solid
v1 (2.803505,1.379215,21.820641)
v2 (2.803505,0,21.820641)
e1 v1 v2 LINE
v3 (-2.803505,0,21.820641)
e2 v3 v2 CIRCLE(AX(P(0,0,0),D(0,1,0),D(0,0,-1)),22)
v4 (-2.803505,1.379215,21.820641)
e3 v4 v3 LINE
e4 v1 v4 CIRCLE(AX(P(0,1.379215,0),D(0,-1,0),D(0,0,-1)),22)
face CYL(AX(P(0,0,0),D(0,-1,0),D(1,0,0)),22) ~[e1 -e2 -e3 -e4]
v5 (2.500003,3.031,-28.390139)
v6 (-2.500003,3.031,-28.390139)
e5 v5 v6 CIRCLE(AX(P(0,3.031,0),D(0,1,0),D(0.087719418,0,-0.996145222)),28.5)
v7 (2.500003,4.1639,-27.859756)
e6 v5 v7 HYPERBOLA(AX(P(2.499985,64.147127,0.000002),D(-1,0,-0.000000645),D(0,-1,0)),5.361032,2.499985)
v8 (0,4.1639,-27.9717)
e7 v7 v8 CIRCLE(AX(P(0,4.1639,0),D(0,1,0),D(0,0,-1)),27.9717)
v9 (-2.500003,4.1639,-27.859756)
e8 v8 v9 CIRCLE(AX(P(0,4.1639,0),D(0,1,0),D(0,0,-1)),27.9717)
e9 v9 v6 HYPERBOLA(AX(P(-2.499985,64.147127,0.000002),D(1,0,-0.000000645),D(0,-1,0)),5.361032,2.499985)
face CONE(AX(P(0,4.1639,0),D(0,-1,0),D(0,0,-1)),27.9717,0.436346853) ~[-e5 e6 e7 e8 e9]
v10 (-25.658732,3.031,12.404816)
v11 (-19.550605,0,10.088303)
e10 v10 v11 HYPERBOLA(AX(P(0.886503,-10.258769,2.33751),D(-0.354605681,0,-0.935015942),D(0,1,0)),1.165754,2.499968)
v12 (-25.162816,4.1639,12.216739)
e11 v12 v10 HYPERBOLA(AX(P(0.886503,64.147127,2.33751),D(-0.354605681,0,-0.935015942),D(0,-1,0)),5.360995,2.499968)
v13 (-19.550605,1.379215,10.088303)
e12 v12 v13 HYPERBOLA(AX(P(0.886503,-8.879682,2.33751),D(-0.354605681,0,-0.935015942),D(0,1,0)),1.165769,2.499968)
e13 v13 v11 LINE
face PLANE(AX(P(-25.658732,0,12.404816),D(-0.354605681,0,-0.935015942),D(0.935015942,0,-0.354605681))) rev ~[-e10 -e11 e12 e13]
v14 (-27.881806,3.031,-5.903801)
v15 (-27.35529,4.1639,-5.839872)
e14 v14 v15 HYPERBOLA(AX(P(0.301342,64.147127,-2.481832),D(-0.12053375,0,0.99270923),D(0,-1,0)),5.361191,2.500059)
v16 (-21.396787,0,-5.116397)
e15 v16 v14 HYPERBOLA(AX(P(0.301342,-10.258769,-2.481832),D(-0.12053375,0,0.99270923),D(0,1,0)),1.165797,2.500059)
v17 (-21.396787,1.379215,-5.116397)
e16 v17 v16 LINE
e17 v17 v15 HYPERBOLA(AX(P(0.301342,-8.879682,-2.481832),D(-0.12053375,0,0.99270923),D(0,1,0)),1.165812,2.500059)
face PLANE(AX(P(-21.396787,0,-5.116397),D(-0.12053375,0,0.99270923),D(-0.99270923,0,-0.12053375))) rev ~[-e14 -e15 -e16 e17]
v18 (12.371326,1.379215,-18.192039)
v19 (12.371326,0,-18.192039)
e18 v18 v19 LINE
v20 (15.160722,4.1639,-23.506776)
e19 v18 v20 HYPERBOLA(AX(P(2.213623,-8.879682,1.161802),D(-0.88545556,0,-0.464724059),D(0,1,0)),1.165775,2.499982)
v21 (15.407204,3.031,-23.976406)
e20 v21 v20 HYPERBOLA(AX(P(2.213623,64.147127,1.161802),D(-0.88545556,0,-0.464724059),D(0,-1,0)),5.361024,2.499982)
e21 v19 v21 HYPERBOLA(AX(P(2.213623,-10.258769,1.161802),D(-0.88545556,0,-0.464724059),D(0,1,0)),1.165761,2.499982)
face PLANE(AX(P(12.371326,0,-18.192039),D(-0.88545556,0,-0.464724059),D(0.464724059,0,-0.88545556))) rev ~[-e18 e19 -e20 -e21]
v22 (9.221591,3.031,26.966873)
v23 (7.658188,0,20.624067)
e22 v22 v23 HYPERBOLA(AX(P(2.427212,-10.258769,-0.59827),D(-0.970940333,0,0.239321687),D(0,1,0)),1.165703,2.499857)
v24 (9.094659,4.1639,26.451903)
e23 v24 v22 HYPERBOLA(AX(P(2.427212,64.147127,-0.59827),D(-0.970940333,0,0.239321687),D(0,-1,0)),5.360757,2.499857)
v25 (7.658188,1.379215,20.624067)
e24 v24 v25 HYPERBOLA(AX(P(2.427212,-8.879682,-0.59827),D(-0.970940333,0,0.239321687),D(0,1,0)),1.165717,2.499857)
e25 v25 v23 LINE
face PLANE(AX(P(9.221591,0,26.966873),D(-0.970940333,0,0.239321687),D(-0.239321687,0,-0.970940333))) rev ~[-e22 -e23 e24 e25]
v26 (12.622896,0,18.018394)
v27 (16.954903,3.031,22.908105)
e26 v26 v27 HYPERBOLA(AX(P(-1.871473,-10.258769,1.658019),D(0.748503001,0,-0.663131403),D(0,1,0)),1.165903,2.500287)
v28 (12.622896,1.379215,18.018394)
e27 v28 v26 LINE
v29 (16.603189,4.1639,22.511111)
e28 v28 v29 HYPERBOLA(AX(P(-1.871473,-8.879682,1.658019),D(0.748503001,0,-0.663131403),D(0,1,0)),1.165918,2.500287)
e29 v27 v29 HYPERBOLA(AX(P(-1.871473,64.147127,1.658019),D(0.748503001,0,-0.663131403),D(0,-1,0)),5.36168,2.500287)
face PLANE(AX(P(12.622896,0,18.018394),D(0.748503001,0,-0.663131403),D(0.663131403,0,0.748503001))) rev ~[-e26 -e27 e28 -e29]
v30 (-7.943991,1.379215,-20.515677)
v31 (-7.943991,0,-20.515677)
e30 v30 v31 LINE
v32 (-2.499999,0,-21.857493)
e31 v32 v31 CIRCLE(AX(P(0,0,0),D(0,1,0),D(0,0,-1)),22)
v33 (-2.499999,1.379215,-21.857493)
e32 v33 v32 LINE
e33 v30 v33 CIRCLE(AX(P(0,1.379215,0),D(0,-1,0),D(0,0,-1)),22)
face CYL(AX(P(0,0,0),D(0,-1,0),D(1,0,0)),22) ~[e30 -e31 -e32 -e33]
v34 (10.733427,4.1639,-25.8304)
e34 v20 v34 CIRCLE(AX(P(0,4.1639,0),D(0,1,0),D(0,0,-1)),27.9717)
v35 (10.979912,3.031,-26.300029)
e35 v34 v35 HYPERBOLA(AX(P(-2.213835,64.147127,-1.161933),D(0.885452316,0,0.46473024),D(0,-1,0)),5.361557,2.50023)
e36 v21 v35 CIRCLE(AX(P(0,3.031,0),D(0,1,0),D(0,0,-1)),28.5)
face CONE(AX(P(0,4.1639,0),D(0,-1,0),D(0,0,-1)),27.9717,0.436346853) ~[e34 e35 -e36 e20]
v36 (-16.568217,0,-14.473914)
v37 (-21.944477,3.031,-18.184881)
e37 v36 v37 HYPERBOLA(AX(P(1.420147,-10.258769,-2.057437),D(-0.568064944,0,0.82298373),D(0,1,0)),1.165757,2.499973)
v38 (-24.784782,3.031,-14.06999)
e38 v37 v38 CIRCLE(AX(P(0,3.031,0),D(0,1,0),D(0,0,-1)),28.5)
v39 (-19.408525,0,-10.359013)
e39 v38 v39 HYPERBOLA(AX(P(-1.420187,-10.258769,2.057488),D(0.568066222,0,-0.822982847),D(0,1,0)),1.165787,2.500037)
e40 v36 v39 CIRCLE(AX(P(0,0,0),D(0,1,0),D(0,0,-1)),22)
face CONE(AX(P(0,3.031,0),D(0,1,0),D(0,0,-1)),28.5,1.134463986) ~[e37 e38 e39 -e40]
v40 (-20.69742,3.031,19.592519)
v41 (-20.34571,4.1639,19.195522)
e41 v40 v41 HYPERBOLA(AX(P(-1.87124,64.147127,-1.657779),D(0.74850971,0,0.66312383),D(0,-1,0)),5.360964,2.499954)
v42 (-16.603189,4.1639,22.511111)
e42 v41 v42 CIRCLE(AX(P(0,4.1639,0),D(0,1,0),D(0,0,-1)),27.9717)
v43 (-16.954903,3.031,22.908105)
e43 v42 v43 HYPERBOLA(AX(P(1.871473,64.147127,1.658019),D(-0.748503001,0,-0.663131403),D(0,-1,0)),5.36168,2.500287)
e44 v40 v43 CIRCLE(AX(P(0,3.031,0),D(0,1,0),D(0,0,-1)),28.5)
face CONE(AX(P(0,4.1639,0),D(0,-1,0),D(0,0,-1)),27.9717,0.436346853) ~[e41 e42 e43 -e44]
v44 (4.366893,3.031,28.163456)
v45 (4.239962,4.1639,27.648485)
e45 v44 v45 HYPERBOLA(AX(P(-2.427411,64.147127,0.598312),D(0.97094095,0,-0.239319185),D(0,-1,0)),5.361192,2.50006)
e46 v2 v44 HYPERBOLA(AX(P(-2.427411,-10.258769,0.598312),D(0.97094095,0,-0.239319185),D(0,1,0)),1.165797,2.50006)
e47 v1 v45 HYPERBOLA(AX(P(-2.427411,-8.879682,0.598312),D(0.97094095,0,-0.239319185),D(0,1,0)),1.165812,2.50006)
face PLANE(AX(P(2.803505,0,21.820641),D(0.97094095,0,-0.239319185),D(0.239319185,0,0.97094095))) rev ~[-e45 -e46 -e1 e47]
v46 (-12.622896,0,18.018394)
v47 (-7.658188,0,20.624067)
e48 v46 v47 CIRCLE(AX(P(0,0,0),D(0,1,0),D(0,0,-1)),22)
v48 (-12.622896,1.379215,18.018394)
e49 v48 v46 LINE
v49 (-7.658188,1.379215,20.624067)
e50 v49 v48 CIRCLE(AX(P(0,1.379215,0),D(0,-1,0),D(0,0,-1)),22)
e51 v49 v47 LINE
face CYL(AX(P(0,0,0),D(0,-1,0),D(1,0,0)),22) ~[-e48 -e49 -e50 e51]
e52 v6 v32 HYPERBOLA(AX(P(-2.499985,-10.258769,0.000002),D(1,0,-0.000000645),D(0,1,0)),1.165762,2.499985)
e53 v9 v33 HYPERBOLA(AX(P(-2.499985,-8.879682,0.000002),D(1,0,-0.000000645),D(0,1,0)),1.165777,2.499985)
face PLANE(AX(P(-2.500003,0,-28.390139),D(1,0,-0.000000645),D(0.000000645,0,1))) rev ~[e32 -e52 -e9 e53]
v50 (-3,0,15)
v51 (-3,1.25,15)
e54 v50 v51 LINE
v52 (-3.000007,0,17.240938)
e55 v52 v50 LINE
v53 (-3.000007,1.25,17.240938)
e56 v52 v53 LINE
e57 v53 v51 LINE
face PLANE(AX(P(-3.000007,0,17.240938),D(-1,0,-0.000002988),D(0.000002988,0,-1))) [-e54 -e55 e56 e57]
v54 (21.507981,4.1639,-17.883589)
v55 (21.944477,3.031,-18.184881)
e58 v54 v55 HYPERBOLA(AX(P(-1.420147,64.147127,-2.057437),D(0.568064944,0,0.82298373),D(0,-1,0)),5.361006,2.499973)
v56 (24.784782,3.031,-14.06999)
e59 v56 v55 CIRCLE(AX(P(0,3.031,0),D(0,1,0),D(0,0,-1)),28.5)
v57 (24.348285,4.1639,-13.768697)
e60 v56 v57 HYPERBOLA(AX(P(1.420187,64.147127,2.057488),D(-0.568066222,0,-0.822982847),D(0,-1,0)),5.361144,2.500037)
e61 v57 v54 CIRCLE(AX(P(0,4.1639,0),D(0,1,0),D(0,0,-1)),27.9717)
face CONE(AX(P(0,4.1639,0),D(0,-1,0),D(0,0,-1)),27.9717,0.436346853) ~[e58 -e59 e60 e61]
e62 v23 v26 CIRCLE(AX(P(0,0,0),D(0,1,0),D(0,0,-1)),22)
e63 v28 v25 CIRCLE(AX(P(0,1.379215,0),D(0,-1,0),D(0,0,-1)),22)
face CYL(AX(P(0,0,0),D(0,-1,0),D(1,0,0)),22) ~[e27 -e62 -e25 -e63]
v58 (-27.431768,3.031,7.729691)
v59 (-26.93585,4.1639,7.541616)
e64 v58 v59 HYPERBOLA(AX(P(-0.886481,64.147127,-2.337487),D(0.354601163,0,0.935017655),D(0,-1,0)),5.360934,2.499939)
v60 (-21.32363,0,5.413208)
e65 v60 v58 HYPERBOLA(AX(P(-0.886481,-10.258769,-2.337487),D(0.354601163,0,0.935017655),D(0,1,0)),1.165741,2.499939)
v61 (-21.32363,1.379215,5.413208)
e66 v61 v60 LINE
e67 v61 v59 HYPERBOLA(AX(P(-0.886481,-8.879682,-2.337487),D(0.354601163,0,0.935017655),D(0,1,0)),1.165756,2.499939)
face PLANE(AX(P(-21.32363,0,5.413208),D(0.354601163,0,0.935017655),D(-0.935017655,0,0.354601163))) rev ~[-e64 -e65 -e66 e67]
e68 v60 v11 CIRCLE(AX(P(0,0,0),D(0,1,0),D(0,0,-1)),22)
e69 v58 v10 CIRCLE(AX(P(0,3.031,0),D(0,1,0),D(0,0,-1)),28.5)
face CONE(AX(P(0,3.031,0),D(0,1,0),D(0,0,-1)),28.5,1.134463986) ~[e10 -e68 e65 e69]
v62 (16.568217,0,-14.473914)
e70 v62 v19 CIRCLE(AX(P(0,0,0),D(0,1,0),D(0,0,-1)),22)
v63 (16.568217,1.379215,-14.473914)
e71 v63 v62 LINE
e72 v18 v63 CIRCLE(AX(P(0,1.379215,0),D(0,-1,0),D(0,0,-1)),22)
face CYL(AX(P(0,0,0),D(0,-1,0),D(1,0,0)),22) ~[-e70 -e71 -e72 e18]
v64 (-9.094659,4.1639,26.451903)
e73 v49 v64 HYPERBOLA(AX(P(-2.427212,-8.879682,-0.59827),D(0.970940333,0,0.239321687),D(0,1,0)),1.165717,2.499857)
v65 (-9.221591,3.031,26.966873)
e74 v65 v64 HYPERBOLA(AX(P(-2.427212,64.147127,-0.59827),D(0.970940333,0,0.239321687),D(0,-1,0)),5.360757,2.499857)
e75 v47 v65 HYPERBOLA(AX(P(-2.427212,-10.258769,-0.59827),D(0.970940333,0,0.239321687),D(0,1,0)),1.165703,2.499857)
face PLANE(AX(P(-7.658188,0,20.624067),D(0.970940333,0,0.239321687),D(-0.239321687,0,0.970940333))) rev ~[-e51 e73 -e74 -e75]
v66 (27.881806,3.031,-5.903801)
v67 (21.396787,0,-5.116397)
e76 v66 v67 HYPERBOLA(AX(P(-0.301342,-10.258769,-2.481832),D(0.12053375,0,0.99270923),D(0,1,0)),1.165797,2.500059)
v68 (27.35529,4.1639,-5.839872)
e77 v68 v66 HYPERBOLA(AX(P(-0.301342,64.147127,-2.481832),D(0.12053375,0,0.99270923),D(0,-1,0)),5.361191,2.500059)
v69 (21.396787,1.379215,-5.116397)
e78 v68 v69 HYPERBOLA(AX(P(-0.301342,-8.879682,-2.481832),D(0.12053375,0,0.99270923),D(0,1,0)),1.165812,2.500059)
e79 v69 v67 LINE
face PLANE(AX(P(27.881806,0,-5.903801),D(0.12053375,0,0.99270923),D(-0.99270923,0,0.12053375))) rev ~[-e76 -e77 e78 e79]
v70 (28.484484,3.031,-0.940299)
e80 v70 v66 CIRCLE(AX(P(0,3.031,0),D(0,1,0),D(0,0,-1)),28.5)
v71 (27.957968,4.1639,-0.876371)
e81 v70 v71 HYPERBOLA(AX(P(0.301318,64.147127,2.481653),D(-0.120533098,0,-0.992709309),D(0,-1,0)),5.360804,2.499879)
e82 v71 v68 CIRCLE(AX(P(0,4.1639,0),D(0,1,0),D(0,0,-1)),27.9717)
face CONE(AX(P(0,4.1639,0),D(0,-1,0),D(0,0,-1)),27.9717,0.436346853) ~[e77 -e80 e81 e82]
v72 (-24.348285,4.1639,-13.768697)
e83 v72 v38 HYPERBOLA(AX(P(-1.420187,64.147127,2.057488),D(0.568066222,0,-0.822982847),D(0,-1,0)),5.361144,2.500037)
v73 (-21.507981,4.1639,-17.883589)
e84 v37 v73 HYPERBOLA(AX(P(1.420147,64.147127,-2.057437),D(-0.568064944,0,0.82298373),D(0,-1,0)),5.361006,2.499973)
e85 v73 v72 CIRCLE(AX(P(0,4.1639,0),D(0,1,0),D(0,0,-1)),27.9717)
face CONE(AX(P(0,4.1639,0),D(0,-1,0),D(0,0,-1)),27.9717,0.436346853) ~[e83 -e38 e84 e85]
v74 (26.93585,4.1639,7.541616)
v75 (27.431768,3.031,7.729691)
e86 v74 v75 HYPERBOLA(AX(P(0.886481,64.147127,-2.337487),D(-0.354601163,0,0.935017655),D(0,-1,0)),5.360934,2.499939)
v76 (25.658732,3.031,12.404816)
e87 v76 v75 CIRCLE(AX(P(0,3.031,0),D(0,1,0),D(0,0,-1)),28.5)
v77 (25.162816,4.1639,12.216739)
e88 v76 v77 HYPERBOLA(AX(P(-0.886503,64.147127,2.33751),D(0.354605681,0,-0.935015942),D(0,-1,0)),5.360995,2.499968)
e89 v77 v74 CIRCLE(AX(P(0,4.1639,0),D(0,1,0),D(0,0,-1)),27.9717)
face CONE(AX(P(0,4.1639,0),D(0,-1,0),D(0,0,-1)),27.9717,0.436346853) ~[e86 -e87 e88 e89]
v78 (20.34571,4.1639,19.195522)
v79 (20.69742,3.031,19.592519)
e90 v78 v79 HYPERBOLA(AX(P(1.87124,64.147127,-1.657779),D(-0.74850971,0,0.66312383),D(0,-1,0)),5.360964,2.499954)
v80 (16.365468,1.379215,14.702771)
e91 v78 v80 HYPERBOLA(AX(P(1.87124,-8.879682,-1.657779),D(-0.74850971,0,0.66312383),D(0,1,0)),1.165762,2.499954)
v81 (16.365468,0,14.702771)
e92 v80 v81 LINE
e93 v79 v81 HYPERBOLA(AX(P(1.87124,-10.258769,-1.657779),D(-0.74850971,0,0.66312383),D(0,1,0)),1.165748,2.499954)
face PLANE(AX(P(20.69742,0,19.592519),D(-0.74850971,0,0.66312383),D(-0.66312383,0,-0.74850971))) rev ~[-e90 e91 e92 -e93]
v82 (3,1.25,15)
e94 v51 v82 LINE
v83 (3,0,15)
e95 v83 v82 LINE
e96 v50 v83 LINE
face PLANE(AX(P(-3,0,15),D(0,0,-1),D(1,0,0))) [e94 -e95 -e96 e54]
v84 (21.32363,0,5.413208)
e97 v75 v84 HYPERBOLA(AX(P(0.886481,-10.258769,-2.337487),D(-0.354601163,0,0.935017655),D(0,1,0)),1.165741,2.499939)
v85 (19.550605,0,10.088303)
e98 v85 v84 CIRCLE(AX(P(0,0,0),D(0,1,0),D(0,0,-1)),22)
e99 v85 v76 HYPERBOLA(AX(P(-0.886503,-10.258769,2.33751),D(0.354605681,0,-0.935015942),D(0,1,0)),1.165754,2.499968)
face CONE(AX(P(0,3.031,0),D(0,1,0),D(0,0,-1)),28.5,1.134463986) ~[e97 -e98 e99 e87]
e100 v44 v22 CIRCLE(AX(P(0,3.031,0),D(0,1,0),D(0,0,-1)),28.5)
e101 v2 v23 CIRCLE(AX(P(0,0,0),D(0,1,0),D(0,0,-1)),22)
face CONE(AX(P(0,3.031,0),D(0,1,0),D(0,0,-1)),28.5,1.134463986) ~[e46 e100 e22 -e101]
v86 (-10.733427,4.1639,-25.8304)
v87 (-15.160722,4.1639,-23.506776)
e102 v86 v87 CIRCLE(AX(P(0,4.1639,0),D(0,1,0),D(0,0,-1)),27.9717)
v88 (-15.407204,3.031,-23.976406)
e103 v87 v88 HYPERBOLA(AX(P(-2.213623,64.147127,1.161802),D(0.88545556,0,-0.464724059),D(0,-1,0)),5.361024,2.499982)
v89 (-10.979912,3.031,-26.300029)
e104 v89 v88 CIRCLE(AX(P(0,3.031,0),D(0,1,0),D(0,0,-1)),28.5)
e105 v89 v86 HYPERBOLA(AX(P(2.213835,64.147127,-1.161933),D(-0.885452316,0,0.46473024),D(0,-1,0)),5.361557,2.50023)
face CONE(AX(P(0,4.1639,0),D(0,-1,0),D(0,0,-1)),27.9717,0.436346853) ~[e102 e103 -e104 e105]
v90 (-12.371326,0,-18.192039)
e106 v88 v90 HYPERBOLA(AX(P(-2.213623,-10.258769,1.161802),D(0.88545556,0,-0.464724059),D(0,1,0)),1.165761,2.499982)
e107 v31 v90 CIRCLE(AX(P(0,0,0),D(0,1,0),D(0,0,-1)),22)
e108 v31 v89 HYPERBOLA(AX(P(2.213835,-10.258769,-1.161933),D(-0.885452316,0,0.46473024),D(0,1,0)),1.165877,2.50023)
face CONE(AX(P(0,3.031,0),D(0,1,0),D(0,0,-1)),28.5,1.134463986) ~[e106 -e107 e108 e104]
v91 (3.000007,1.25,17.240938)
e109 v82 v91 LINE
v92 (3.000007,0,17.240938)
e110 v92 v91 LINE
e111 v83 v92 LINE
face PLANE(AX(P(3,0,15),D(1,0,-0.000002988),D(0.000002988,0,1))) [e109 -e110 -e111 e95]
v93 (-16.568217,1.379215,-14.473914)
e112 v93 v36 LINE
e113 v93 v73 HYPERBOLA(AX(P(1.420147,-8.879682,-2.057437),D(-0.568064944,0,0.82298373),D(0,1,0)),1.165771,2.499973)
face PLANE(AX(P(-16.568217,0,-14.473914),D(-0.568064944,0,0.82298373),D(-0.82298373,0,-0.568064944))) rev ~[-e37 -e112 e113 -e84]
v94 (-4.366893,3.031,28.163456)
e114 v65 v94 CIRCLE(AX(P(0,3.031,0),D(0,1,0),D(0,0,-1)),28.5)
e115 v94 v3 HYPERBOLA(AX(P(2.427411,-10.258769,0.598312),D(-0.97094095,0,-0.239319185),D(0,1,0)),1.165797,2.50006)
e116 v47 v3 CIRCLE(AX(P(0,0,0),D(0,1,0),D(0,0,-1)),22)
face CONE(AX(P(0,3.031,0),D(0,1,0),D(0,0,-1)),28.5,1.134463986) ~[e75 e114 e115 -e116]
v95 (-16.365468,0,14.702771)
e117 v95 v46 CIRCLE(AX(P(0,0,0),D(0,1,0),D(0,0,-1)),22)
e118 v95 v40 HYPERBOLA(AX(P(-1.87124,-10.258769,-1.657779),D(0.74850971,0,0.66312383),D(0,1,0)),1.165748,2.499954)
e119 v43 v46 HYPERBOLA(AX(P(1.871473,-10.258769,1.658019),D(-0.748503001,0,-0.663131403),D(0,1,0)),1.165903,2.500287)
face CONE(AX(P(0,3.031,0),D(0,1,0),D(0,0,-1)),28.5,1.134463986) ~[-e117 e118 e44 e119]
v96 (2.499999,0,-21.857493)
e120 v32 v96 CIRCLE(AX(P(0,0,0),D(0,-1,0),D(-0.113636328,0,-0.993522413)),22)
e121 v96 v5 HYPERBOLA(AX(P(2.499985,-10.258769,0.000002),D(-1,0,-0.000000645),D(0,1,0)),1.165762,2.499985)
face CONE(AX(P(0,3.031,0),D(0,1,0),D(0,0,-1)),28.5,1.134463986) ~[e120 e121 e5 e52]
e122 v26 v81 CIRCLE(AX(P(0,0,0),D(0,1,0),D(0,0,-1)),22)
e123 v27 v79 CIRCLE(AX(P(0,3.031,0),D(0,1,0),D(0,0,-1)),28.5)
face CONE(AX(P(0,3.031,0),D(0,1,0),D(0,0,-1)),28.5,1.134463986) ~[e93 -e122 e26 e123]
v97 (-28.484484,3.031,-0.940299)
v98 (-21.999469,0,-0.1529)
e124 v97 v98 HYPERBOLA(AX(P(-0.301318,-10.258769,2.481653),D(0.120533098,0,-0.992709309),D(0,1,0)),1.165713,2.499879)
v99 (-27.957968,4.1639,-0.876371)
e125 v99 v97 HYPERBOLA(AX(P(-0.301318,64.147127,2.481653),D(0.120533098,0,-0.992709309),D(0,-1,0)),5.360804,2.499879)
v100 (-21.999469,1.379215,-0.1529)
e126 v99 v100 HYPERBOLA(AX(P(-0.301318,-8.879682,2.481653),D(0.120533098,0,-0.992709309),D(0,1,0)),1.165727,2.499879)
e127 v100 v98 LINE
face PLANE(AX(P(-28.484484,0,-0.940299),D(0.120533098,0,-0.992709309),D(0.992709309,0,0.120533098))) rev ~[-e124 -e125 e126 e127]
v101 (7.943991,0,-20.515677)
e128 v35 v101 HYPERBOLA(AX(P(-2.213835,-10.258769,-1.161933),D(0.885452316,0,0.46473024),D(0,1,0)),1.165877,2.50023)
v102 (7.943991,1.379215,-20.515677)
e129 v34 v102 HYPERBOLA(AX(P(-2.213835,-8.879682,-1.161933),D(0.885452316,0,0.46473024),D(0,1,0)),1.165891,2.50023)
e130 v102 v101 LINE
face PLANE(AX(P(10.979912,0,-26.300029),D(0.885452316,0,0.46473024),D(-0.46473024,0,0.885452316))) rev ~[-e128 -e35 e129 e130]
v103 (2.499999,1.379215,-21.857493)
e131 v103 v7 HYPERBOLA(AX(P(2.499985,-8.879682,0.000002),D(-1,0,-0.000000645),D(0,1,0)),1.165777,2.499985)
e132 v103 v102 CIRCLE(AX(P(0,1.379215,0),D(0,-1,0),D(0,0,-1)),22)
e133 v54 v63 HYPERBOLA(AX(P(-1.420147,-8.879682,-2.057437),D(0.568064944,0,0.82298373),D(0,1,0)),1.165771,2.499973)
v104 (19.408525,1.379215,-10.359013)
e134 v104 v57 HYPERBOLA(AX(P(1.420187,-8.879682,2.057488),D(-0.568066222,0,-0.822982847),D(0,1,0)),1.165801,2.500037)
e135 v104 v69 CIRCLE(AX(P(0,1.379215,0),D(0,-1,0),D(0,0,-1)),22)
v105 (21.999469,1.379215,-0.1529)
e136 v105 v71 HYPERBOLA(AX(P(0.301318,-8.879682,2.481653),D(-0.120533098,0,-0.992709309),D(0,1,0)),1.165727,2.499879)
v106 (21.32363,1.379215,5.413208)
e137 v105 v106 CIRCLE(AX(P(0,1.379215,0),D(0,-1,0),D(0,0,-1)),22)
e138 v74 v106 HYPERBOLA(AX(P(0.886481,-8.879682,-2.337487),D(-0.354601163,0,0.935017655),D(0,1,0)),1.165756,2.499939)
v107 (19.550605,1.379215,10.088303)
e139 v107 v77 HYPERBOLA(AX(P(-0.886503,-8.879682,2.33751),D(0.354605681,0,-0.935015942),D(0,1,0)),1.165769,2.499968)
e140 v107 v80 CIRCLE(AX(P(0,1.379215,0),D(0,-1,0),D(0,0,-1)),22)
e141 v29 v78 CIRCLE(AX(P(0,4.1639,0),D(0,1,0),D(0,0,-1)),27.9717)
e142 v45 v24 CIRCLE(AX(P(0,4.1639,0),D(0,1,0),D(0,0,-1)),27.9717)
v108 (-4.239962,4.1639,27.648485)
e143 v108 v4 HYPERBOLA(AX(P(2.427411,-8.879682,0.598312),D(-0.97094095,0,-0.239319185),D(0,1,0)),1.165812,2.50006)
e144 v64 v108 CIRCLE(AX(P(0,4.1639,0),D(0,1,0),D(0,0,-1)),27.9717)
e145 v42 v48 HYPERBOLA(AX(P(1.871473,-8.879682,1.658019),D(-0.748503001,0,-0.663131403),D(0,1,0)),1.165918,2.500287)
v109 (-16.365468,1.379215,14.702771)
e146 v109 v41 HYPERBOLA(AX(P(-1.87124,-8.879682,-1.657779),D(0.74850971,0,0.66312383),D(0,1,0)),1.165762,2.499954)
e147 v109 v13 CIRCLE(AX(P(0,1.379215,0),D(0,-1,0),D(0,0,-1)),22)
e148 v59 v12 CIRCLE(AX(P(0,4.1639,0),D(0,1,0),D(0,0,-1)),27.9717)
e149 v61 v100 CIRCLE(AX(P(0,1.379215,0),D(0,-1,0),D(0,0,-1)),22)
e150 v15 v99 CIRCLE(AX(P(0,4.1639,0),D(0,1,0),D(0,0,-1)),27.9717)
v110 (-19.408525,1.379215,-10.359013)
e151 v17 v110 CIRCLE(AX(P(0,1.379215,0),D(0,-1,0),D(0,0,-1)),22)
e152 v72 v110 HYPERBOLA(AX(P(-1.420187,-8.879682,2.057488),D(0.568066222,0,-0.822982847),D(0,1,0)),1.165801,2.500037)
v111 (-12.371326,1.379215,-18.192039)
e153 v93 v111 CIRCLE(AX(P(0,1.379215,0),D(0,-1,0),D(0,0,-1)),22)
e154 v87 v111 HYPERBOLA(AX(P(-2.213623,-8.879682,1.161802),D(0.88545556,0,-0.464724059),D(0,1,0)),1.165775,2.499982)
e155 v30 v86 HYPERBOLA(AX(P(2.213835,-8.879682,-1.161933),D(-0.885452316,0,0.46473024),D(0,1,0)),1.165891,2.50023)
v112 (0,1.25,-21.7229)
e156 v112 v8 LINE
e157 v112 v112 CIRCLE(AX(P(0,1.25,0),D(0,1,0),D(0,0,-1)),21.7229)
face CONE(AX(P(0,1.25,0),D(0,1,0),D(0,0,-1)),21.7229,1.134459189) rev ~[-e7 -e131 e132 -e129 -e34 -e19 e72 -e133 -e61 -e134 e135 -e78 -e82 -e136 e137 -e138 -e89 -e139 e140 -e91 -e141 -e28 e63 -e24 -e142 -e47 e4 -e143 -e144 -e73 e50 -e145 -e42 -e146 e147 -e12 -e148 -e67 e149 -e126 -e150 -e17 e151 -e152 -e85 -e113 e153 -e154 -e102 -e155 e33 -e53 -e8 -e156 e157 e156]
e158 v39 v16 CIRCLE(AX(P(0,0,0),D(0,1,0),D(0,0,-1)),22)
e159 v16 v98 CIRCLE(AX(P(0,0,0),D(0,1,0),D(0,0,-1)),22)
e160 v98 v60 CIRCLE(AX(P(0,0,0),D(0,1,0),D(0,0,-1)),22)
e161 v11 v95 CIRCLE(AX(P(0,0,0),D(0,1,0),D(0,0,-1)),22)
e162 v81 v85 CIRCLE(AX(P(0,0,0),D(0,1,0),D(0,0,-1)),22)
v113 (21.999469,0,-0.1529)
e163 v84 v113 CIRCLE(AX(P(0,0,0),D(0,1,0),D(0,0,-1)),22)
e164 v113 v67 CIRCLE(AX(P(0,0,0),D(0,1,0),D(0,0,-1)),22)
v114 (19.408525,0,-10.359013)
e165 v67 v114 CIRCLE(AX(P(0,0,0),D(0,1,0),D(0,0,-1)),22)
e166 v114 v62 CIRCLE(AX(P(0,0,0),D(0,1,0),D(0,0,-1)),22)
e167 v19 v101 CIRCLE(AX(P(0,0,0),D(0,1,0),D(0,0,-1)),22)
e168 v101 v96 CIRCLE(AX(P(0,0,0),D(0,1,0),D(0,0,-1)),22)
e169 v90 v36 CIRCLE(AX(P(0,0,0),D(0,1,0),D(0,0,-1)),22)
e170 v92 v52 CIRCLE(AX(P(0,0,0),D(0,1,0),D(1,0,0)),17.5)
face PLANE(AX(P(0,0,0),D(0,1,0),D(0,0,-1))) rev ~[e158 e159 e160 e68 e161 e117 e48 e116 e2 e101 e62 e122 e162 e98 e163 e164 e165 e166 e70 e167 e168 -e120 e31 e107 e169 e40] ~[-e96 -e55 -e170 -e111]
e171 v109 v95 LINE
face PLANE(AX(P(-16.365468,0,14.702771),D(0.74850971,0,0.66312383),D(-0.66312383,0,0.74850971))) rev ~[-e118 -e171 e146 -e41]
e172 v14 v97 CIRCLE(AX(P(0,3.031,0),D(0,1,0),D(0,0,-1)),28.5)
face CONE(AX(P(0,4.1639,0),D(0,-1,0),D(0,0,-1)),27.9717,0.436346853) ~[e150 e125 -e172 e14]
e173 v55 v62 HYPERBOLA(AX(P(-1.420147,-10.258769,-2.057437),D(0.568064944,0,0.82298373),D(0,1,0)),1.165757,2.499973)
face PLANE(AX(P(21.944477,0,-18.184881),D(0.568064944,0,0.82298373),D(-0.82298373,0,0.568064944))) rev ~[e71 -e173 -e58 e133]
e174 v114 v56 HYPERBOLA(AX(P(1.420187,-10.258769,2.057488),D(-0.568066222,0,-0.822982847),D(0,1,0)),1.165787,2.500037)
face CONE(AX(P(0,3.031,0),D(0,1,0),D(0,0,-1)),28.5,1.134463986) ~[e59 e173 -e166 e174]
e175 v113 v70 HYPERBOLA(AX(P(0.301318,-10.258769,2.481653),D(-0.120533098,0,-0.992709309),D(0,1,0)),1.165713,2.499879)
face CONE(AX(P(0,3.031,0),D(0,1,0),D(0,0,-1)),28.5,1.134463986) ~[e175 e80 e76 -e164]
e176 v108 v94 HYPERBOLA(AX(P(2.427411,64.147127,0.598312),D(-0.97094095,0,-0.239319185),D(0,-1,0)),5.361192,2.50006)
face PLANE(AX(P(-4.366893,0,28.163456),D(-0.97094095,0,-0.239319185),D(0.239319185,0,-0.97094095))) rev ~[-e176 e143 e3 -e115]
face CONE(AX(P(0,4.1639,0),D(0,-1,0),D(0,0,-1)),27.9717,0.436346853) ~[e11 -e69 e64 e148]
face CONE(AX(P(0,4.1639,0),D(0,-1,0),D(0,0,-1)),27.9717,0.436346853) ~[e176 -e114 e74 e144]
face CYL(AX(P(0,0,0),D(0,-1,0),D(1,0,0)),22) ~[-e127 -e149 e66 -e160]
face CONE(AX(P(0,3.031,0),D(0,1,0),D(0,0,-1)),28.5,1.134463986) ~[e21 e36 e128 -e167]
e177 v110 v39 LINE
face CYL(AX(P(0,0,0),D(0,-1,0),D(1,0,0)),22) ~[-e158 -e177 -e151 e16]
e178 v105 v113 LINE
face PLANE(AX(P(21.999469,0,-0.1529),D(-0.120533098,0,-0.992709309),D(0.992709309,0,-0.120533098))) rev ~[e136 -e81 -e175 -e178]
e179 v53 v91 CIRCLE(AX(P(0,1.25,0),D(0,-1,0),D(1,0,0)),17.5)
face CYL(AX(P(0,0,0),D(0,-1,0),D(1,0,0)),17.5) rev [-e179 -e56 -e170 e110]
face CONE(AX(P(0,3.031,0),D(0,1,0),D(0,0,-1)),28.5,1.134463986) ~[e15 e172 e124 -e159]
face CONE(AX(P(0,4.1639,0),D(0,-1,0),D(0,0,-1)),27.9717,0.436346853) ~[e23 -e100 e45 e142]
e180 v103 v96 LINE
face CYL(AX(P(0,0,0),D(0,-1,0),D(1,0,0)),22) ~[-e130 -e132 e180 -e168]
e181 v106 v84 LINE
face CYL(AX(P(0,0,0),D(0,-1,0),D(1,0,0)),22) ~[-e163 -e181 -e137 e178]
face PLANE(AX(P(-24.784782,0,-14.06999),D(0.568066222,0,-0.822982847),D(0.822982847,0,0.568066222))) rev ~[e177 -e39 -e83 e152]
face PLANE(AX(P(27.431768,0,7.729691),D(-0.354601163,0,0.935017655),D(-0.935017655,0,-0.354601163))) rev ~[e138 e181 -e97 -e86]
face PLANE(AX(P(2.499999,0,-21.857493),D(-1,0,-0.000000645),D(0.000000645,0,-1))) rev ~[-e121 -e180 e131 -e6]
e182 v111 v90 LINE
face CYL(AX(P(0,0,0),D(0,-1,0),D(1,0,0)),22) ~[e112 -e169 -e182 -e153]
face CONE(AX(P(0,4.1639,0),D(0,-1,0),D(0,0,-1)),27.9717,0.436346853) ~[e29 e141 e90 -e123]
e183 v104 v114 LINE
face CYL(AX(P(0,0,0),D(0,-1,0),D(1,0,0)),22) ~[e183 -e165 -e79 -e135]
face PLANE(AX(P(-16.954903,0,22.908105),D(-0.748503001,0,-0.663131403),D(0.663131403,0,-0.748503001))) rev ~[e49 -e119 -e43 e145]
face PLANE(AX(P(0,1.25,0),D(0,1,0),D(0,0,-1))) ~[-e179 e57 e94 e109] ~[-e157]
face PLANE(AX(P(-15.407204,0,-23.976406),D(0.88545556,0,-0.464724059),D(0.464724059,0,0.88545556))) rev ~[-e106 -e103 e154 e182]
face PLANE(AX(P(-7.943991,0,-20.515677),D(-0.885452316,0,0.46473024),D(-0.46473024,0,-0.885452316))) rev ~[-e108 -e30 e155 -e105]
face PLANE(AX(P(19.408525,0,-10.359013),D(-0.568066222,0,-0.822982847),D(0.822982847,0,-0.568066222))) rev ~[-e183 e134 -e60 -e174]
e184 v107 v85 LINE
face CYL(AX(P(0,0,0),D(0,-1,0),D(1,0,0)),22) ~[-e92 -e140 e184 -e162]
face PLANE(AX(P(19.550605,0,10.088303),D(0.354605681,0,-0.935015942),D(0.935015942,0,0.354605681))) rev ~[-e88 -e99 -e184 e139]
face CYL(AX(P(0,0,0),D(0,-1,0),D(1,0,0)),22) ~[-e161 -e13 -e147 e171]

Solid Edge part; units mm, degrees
sketch "Sketch1" plane through (0, 0, 0) normal (1, 0, 0) x (0, 1, 0)
  line L0 (1.25, 0) -> (1.25, -21.7229)
  line L1 (1.25, -21.7229) -> (4.1639, -27.9717)
  line L2 (4.1639, -27.9717) -> (3.031, -28.5)
  line L3 (3.031, -28.5) -> (0, -22)
  line L4 (0, -22) -> (0, 0)
  line L5 (0, 0) -> (1.25, 0)
revolve "RevolvedProtrusion1" add sketch "Sketch1" angle 360 about axis through (0, -114, 0) along (0, 1, 0)
sketch "Sketch2" plane through (0, 0, 0) normal (0, -1, 0) x (1, 0, 0)
  arc A0 (3, 17.2409) -> (-3, 17.2409) centre (0, 0) cw
  line L0 (-3, 17.2409) -> (-3, 15)
  line L1 (-3, 15) -> (3, 15)
  line L2 (3, 15) -> (3, 17.2409)
extrude "Cutout1" cut sketch "Sketch2" against normal blind 114
sketch "Sketch3" plane through (0, 0, 0) normal (0, -1, 0) x (1, 0, 0)
  circle A0 centre (0, 0) radius 57
  line L0 (-28.4845, -0.9403) -> (-21.9995, -0.1529)
  arc A1 (-21.9995, -0.1529) -> (-21.3236, 5.4132) centre (0, 0) cw
  line L1 (-21.3236, 5.4132) -> (-27.4318, 7.7297)
  arc A2 (-27.4318, 7.7297) -> (-26.648, 10.1062) centre (0, 0) cw
  arc A3 (-26.648, 10.1062) -> (-25.6587, 12.4048) centre (0, 0) cw
  line L2 (-25.6587, 12.4048) -> (-19.5506, 10.0883)
  arc A4 (-19.5506, 10.0883) -> (-16.3655, 14.7028) centre (0, 0) cw
  line L3 (-16.3655, 14.7028) -> (-20.6974, 19.5925)
  arc A5 (-20.6974, 19.5925) -> (-18.899, 21.3326) centre (0, 0) cw
  arc A6 (-18.899, 21.3326) -> (-16.9549, 22.9081) centre (0, 0) cw
  line L4 (-16.9549, 22.9081) -> (-12.6229, 18.0184)
  arc A7 (-12.6229, 18.0184) -> (-7.6582, 20.6241) centre (0, 0) cw
  line L5 (-7.6582, 20.6241) -> (-9.2216, 26.9669)
  arc A8 (-9.2216, 26.9669) -> (-6.8205, 27.6718) centre (0, 0) cw
  arc A9 (-6.8205, 27.6718) -> (-4.3669, 28.1635) centre (0, 0) cw
  line L6 (-4.3669, 28.1635) -> (-2.8035, 21.8206)
  arc A10 (-2.8035, 21.8206) -> (2.8035, 21.8206) centre (0, 0) cw
  line L7 (2.8035, 21.8206) -> (4.3669, 28.1635)
  arc A11 (4.3669, 28.1635) -> (6.8205, 27.6718) centre (0, 0) cw
  arc A12 (6.8205, 27.6718) -> (9.2216, 26.9669) centre (0, 0) cw
  line L8 (9.2216, 26.9669) -> (7.6582, 20.6241)
  arc A13 (7.6582, 20.6241) -> (12.6229, 18.0184) centre (0, 0) cw
  line L9 (12.6229, 18.0184) -> (16.9549, 22.9081)
  arc A14 (16.9549, 22.9081) -> (18.899, 21.3326) centre (0, 0) cw
  arc A15 (18.899, 21.3326) -> (20.6974, 19.5925) centre (0, 0) cw
  line L10 (20.6974, 19.5925) -> (16.3655, 14.7028)
  arc A16 (16.3655, 14.7028) -> (19.5506, 10.0883) centre (0, 0) cw
  line L11 (19.5506, 10.0883) -> (25.6587, 12.4048)
  arc A17 (25.6587, 12.4048) -> (26.648, 10.1062) centre (0, 0) cw
  arc A18 (26.648, 10.1062) -> (27.4318, 7.7297) centre (0, 0) cw
  line L12 (27.4318, 7.7297) -> (21.3236, 5.4132)
  arc A19 (21.3236, 5.4132) -> (21.9995, -0.1529) centre (0, 0) cw
  line L13 (21.9995, -0.1529) -> (28.4845, -0.9403)
  arc A20 (28.4845, -0.9403) -> (28.2922, -3.4353) centre (0, 0) cw
  arc A21 (28.2922, -3.4353) -> (27.8818, -5.9038) centre (0, 0) cw
  line L14 (27.8818, -5.9038) -> (21.3968, -5.1164)
  arc A22 (21.3968, -5.1164) -> (19.4085, -10.359) centre (0, 0) cw
  line L15 (19.4085, -10.359) -> (24.7848, -14.07)
  arc A23 (24.7848, -14.07) -> (23.455, -16.1898) centre (0, 0) cw
  arc A24 (23.455, -16.1898) -> (21.9445, -18.1849) centre (0, 0) cw
  line L16 (21.9445, -18.1849) -> (16.5682, -14.4739)
  arc A25 (16.5682, -14.4739) -> (12.3713, -18.192) centre (0, 0) cw
  line L17 (12.3713, -18.192) -> (15.4072, -23.9764)
  arc A26 (15.4072, -23.9764) -> (13.2446, -25.2355) centre (0, 0) cw
  arc A27 (13.2446, -25.2355) -> (10.9799, -26.3) centre (0, 0) cw
  line L18 (10.9799, -26.3) -> (7.944, -20.5157)
  arc A28 (7.944, -20.5157) -> (2.5, -21.8575) centre (0, 0) cw
  line L19 (2.5, -21.8575) -> (2.5, -28.3901)
  arc A29 (2.5, -28.3901) -> (0, -28.5) centre (0, 0) cw
  arc A30 (0, -28.5) -> (-2.5, -28.3901) centre (0, 0) cw
  line L20 (-2.5, -28.3901) -> (-2.5, -21.8575)
  arc A31 (-2.5, -21.8575) -> (-7.944, -20.5157) centre (0, 0) cw
  line L21 (-7.944, -20.5157) -> (-10.9799, -26.3)
  arc A32 (-10.9799, -26.3) -> (-13.2446, -25.2355) centre (0, 0) cw
  arc A33 (-13.2446, -25.2355) -> (-15.4072, -23.9764) centre (0, 0) cw
  line L22 (-15.4072, -23.9764) -> (-12.3713, -18.192)
  arc A34 (-12.3713, -18.192) -> (-16.5682, -14.4739) centre (0, 0) cw
  line L23 (-16.5682, -14.4739) -> (-21.9445, -18.1849)
  arc A35 (-21.9445, -18.1849) -> (-23.455, -16.1898) centre (0, 0) cw
  arc A36 (-23.455, -16.1898) -> (-24.7848, -14.07) centre (0, 0) cw
  line L24 (-24.7848, -14.07) -> (-19.4085, -10.359)
  arc A37 (-19.4085, -10.359) -> (-21.3968, -5.1164) centre (0, 0) cw
  line L25 (-21.3968, -5.1164) -> (-27.8818, -5.9038)
  arc A38 (-27.8818, -5.9038) -> (-28.2922, -3.4353) centre (0, 0) cw
  arc A39 (-28.2922, -3.4353) -> (-28.4845, -0.9403) centre (0, 0) cw
extrude "ExtrudedCutout_2" cut sketch "Sketch3" against normal blind 114 and the other way blind 114
properties part number "sicherungsbl_din5406_65365301"
